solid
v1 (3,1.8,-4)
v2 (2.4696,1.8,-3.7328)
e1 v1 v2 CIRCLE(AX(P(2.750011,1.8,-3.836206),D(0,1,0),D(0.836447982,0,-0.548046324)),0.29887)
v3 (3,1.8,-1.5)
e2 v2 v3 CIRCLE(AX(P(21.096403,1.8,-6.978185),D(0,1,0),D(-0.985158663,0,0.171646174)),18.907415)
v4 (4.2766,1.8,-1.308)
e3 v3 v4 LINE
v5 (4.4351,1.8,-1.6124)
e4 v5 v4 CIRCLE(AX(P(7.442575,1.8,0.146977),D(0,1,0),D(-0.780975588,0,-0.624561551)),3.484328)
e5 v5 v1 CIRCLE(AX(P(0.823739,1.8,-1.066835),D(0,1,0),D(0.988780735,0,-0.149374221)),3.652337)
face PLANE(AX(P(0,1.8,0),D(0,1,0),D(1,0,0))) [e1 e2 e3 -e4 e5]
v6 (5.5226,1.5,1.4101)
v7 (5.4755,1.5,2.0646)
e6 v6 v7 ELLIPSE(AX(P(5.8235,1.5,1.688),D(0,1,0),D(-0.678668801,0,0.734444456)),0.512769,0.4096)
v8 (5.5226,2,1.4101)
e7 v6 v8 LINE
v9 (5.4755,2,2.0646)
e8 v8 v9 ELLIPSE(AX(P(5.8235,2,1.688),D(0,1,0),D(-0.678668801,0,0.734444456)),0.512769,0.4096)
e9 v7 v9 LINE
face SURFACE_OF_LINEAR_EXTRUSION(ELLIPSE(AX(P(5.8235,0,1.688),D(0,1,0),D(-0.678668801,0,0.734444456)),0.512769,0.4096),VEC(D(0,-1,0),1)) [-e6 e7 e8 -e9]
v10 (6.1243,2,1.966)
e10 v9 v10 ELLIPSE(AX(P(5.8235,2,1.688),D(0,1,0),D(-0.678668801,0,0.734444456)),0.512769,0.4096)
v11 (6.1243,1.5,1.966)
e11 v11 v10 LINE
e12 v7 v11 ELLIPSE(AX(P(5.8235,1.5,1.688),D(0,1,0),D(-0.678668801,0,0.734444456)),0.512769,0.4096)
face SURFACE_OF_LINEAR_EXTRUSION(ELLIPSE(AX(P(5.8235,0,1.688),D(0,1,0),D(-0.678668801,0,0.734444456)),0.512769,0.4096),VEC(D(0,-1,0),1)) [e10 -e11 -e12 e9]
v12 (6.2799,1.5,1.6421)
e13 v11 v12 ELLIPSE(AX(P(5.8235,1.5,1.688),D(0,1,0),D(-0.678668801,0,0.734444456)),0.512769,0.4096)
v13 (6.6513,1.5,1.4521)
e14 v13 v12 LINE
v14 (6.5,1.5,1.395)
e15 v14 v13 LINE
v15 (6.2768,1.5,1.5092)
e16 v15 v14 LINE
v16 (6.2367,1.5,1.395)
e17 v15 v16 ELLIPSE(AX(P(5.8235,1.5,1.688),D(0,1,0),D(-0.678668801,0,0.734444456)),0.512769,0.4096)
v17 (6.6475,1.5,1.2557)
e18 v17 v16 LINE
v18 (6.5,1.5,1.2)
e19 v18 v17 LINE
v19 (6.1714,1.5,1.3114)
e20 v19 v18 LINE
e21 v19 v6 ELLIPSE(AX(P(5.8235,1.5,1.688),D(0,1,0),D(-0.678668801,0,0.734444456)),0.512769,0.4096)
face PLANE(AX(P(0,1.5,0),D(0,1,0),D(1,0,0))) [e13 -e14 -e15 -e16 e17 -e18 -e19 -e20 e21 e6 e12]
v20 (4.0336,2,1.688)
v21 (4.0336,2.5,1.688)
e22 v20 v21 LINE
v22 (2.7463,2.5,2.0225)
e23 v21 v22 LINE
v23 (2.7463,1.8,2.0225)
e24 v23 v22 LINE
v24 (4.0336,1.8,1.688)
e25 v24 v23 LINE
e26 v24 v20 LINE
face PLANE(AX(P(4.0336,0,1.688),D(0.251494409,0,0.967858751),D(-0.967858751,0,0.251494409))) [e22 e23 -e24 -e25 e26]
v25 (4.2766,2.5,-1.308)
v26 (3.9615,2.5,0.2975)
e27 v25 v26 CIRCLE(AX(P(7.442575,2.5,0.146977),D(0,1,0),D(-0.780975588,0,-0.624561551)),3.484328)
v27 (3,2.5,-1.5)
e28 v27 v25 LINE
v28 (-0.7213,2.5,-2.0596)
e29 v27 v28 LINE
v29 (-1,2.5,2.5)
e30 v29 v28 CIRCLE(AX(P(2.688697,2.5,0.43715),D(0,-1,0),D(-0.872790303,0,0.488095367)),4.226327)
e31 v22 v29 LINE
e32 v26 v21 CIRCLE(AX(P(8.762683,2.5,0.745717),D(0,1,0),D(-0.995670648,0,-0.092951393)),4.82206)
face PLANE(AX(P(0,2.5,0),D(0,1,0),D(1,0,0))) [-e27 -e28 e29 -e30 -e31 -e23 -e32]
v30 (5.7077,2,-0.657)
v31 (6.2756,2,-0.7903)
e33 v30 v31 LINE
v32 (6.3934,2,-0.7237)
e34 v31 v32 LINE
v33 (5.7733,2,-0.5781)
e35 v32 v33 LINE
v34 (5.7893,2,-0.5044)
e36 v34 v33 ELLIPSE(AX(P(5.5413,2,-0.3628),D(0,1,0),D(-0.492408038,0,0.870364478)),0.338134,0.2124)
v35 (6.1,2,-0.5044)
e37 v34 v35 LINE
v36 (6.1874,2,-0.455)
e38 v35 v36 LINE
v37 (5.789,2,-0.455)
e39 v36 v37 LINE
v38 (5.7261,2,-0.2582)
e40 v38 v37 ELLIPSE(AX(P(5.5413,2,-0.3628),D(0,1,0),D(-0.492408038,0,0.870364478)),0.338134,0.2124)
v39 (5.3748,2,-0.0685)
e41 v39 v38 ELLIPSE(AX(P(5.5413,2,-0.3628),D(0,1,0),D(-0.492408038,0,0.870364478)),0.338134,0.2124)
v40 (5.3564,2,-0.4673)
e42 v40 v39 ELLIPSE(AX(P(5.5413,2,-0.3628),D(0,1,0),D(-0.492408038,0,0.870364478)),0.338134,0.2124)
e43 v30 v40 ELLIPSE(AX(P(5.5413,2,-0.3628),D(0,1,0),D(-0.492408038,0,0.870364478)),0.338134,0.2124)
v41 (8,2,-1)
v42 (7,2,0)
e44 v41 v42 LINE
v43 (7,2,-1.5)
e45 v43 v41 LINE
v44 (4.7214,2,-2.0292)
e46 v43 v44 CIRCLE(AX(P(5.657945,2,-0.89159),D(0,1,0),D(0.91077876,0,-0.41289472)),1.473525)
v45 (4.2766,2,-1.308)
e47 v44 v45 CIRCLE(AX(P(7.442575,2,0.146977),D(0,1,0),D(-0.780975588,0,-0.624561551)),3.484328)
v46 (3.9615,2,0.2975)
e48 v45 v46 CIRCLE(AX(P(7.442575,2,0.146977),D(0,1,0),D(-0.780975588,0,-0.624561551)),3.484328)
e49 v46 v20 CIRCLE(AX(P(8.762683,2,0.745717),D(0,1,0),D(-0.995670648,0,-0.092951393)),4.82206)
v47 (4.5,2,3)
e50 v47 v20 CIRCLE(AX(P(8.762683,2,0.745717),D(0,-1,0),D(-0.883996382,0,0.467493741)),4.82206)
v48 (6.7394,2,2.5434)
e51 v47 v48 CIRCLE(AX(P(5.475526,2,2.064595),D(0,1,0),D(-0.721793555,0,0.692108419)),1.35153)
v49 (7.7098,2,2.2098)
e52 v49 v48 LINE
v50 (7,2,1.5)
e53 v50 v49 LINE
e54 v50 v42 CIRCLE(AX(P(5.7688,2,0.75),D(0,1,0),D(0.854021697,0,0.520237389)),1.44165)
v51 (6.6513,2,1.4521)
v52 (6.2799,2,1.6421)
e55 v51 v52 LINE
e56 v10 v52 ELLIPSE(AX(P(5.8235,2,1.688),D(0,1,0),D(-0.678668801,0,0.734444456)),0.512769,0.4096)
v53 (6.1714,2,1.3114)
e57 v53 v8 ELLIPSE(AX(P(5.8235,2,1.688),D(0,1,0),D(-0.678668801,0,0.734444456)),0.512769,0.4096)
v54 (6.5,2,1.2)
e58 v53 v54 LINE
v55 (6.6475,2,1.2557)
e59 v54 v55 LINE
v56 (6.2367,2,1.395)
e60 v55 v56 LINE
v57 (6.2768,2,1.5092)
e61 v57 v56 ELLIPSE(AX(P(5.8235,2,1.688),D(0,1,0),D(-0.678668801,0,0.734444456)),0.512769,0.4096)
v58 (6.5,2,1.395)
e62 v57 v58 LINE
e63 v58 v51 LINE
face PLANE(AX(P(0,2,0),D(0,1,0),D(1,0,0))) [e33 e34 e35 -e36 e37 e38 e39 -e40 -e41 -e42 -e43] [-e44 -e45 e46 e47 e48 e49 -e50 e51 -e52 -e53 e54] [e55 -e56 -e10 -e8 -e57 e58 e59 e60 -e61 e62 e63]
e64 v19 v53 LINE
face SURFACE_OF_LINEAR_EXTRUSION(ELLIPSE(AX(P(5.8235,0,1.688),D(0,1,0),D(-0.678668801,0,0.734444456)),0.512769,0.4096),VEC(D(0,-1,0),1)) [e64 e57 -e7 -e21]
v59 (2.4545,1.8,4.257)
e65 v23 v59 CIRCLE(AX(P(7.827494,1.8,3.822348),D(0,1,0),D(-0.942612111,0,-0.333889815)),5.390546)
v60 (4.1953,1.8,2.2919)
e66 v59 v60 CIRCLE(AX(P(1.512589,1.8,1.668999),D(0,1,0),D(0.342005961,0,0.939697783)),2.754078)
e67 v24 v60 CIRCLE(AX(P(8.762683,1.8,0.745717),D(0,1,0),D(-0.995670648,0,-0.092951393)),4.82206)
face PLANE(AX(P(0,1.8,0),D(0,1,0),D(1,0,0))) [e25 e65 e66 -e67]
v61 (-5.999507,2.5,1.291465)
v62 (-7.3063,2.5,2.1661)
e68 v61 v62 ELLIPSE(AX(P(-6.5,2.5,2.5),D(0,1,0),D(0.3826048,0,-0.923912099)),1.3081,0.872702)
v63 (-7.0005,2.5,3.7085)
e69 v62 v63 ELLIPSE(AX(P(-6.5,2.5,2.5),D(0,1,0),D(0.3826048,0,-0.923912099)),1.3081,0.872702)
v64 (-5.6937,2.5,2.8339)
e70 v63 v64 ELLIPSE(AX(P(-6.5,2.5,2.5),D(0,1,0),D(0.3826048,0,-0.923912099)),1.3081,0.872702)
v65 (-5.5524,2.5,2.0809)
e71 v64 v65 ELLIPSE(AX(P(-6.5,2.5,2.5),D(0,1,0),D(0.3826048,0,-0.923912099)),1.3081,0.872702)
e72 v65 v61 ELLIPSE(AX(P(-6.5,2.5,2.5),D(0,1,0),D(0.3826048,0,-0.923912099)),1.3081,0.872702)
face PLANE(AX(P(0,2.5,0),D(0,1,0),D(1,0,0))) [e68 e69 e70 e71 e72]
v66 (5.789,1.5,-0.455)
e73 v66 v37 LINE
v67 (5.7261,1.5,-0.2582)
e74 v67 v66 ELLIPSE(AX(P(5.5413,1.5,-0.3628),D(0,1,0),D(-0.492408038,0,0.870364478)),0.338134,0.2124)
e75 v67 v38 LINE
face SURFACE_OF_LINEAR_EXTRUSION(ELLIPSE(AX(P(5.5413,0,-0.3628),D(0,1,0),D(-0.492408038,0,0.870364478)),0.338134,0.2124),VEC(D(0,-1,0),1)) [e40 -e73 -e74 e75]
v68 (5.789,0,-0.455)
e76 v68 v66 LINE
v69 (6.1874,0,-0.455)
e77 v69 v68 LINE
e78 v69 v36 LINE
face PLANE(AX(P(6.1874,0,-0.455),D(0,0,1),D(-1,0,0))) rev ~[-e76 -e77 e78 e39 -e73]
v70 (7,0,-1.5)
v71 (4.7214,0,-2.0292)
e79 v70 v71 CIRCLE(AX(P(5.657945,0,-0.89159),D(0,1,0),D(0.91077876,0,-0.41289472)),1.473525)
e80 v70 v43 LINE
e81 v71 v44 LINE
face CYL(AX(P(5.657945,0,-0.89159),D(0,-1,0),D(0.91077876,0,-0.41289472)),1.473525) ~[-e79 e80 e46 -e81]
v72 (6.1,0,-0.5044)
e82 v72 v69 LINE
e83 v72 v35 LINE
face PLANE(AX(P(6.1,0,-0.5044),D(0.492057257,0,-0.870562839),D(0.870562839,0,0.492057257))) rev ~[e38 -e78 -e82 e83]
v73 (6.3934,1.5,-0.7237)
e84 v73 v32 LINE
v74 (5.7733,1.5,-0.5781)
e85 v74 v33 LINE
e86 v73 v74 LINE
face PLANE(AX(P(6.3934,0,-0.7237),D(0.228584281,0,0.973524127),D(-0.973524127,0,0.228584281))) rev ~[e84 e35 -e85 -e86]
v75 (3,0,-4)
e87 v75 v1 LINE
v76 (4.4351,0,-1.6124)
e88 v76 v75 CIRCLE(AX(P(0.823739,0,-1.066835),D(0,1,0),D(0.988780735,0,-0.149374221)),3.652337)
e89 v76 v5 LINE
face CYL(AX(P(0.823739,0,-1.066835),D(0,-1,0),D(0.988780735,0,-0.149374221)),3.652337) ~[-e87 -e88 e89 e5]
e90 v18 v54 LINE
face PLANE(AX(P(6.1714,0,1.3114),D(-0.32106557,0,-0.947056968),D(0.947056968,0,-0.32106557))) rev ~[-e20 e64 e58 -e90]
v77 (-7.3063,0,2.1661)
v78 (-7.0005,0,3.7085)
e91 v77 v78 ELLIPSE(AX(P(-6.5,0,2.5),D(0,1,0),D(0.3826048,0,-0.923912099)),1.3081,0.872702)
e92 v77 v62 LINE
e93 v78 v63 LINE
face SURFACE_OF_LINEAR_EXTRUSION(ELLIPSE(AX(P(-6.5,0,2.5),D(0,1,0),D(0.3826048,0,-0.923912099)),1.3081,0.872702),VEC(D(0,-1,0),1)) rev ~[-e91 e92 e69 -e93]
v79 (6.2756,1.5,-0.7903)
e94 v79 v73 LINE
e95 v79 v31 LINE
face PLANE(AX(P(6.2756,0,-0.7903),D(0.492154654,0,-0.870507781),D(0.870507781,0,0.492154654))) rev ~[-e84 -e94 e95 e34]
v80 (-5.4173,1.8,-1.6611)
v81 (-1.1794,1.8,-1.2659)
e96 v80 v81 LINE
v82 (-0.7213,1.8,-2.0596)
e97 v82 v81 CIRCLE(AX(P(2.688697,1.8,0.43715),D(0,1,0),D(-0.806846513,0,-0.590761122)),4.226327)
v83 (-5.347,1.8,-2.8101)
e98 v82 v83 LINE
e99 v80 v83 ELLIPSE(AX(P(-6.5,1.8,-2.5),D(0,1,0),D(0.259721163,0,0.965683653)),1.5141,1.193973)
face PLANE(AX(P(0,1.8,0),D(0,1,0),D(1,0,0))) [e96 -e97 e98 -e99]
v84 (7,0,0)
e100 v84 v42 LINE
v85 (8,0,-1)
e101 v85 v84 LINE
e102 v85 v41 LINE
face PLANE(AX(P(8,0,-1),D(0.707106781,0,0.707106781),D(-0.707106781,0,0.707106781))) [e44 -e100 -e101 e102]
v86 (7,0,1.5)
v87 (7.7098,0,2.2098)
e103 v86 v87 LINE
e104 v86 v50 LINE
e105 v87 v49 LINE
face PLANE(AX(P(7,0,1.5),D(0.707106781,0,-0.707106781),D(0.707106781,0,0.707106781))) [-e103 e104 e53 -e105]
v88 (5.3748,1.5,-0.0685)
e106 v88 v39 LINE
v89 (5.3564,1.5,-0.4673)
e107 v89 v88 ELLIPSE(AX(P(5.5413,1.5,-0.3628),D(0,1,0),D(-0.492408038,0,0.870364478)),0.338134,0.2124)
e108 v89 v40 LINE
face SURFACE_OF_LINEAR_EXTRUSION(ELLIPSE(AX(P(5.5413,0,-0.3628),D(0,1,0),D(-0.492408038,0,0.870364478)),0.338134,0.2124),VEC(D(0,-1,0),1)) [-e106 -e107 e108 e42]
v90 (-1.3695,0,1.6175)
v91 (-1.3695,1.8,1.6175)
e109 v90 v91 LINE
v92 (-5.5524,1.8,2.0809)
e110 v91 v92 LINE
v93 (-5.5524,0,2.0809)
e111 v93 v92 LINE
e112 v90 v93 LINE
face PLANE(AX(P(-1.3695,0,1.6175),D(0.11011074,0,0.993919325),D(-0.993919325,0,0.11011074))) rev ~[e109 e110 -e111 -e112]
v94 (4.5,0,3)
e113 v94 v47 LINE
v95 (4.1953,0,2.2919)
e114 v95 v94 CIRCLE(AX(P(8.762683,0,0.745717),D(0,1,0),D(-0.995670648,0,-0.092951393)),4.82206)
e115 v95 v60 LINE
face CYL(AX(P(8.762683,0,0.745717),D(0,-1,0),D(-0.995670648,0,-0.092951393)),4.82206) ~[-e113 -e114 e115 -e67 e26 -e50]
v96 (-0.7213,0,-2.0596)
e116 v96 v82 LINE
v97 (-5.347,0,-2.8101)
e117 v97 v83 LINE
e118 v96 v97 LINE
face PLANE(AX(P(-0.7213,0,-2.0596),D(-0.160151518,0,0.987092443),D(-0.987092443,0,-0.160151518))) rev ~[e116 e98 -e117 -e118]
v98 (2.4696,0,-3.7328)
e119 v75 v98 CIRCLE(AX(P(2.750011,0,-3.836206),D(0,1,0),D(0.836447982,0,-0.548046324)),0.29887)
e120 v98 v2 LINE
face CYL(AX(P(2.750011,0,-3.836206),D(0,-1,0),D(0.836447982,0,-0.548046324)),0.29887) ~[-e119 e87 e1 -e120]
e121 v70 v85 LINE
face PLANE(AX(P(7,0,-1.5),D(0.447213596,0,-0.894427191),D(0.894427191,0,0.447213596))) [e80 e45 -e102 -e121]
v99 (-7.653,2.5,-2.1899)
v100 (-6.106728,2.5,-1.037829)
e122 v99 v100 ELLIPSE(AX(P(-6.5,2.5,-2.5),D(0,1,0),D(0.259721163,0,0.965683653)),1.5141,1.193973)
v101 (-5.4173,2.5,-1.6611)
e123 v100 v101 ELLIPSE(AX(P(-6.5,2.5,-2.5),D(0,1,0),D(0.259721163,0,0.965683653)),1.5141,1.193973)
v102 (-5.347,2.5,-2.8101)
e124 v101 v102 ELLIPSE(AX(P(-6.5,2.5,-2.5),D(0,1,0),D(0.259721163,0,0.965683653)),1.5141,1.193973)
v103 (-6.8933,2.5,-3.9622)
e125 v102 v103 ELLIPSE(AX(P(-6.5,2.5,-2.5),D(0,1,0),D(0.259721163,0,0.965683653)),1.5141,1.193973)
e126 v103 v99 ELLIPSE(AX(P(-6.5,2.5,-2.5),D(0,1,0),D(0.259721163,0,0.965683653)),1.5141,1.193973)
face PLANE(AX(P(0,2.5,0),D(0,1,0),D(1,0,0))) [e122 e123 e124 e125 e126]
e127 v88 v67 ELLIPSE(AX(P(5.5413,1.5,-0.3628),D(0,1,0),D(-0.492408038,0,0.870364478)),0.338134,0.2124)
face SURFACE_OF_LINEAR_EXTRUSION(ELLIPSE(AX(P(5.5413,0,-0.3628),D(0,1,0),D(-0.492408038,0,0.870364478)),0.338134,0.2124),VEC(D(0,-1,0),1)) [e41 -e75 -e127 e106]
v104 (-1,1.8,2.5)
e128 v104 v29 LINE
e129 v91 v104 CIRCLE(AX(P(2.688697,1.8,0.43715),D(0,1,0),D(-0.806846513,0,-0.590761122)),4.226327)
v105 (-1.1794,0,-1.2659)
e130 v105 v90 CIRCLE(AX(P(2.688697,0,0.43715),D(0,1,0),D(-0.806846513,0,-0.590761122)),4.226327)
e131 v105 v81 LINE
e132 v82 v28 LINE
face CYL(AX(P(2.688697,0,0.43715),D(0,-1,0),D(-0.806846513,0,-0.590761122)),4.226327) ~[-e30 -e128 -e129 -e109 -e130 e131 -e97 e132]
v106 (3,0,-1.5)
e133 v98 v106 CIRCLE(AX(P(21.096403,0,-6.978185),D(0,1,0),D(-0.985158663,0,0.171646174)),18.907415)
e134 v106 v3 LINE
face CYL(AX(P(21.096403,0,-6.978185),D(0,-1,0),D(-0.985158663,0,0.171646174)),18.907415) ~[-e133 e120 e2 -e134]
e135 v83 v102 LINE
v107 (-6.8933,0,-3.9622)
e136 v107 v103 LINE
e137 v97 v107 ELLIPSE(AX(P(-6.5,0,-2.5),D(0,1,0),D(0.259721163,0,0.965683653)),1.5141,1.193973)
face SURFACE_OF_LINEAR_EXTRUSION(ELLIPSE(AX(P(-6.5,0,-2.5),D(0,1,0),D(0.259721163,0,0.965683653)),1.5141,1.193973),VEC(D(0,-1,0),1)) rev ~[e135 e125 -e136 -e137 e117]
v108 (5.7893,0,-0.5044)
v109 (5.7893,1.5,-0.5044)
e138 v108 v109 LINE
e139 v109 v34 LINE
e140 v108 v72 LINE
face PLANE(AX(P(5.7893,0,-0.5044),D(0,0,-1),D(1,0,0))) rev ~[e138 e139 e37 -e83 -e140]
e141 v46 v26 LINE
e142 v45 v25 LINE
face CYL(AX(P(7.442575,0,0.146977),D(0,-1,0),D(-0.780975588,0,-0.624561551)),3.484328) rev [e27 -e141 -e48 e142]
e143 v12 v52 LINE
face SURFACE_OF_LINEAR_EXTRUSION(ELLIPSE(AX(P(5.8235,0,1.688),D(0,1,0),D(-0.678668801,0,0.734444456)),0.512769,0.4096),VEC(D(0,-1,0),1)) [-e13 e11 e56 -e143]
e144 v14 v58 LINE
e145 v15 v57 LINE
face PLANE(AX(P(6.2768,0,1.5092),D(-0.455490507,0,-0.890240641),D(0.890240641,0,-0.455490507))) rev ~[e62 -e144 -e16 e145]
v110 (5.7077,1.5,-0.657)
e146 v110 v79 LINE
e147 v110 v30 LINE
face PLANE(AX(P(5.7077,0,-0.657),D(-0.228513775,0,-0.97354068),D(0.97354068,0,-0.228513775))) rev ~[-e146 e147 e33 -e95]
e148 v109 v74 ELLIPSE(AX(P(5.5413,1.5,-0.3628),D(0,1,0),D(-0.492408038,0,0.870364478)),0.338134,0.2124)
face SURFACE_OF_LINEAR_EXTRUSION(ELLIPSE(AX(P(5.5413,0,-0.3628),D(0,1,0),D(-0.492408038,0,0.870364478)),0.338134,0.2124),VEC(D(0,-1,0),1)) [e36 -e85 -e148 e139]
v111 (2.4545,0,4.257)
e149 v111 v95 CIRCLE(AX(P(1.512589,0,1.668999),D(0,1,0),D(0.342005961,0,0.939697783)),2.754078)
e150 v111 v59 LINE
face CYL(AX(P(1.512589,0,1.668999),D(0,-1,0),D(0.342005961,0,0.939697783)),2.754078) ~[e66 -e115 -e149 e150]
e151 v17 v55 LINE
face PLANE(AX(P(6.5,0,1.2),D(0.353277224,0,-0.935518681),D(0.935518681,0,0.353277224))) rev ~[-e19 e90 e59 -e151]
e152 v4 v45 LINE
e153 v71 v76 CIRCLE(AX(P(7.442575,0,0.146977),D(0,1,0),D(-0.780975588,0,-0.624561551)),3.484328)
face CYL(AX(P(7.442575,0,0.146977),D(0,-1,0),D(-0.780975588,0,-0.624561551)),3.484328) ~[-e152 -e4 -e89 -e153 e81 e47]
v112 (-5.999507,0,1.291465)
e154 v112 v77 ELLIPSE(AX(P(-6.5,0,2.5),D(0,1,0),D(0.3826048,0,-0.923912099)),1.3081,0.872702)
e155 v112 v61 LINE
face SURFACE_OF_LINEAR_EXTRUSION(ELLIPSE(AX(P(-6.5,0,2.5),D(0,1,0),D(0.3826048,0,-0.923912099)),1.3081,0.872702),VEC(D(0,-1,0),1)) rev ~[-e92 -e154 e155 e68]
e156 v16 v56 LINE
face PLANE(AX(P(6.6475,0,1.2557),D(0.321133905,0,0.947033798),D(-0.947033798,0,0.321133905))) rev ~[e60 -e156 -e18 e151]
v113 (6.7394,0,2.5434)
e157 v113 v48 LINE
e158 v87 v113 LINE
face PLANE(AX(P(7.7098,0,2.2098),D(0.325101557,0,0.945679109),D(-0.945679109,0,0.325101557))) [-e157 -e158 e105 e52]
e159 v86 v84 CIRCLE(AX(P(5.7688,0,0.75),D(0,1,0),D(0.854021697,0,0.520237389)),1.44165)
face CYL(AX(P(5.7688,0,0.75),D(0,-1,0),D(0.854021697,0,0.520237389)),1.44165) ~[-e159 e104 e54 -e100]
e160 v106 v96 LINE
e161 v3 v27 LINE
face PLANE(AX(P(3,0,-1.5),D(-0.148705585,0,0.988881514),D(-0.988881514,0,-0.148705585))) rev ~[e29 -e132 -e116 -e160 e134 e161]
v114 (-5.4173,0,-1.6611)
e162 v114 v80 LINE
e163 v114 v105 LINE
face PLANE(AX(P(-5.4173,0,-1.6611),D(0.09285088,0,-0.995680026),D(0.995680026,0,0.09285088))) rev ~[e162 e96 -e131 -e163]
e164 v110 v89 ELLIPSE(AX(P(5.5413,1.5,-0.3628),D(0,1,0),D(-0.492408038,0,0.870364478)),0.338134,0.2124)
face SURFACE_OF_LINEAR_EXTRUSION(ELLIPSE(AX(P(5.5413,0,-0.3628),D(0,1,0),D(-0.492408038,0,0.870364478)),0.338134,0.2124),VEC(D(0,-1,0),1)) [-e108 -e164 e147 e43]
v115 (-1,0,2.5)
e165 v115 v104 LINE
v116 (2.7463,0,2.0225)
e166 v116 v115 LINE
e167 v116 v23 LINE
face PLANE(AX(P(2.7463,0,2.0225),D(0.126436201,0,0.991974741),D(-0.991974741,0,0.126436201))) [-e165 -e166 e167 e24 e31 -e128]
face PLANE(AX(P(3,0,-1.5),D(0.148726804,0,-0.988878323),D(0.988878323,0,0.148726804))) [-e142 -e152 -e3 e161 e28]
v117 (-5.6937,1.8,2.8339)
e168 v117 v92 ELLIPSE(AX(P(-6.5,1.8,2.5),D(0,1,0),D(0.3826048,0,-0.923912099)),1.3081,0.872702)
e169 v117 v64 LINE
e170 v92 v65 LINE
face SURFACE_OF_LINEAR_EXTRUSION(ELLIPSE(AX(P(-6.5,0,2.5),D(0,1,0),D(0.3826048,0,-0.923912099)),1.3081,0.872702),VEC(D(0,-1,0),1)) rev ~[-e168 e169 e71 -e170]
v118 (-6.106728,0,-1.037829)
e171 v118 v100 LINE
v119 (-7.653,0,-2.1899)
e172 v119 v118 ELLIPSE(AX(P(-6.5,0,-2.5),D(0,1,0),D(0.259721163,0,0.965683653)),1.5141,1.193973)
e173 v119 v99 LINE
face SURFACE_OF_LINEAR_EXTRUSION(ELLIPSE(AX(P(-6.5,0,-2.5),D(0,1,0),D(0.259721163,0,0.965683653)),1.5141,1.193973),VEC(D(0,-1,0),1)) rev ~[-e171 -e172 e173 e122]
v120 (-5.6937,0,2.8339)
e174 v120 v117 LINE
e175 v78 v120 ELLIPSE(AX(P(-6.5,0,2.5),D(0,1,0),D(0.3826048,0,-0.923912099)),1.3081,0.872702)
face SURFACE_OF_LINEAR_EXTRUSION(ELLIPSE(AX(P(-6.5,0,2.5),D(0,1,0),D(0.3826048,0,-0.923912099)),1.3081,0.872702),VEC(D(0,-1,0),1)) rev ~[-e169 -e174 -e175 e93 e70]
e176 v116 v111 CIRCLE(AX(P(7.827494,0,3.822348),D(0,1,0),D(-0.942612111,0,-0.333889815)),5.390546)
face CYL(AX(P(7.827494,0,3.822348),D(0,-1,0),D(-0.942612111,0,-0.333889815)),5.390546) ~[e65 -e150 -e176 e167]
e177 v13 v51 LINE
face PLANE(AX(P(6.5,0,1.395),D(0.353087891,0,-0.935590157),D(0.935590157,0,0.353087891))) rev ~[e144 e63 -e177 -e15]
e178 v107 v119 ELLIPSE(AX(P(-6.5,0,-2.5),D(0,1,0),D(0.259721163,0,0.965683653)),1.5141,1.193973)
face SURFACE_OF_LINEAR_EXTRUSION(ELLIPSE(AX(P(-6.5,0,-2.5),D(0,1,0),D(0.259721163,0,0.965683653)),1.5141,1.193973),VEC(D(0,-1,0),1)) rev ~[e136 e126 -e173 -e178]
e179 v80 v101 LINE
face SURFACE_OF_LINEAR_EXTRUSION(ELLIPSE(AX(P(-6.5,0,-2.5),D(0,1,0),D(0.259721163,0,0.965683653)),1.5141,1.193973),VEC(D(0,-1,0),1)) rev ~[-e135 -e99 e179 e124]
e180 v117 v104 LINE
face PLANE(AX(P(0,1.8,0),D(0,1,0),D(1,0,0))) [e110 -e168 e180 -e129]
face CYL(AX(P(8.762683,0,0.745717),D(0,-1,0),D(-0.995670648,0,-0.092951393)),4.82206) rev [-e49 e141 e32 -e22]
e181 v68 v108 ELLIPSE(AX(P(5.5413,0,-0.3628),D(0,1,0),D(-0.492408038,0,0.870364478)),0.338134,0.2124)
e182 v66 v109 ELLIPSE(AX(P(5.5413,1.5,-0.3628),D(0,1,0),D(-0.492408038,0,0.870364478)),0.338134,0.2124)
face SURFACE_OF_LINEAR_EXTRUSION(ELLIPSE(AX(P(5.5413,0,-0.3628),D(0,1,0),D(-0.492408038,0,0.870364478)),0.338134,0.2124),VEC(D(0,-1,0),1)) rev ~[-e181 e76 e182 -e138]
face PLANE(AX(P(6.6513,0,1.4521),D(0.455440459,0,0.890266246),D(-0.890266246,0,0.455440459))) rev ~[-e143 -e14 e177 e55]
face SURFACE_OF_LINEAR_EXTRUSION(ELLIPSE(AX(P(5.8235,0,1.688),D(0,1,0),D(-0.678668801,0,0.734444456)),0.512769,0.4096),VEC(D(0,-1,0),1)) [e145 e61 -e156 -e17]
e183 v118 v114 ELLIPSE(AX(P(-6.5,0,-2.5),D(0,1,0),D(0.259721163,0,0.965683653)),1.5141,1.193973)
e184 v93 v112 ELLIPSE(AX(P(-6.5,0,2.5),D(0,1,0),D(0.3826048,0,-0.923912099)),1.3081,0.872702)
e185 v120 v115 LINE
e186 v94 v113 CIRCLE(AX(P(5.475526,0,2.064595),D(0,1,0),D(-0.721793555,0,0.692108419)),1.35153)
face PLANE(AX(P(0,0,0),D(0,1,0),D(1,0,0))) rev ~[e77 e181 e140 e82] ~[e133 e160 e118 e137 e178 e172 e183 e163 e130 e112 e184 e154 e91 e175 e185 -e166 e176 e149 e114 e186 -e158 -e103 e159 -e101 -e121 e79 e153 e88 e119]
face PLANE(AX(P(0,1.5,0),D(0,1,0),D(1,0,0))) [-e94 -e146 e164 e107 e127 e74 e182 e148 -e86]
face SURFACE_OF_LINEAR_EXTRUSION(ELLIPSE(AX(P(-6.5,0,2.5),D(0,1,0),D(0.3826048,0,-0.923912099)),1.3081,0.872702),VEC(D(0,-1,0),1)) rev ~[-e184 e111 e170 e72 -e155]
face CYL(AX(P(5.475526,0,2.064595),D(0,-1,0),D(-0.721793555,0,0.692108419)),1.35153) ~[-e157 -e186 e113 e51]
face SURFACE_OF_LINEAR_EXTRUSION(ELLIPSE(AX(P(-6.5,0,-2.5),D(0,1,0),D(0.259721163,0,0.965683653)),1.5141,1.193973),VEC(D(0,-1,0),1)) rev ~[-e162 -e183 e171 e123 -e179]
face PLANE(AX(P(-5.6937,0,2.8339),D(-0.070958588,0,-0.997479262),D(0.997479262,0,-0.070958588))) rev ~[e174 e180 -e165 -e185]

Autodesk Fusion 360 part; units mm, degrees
sketch "スケッチ1" plane through (0, 0, 0) normal (0, 1, 0) x (1, 0, 0)
  line L0 (7, 1.5) -> (8, 1)
  line L1 (8, 1) -> (7, 0)
  line L2 (7, -1.5) -> (7.7098, -2.2098)
  line L3 (7.7098, -2.2098) -> (6.7394, -2.5434)
  arc A0 (7, -1.5) -> (7, 0) centre (5.7688, -0.75) ccw
  arc A1 (4.5, -3) -> (6.7394, -2.5434) centre (5.4755, -2.0646) ccw
  arc A2 (3.9615, -0.2975) -> (4.5, -3) centre (8.7627, -0.7458) ccw
  arc A3 (4.7214, 2.0292) -> (3.9615, -0.2975) centre (7.4426, -0.1469) ccw
  arc A4 (7, 1.5) -> (4.7214, 2.0292) centre (5.6579, 0.8916) ccw
  arc A5 (4.4351, 1.6124) -> (3, 4) centre (0.8237, 1.0669) ccw
  arc A6 (3, 4) -> (2.4696, 3.7328) centre (2.75, 3.8362) ccw
  arc A7 (2.4696, 3.7328) -> (3, 1.5) centre (21.0964, 6.9782) ccw
  line L4 (3, 1.5) -> (4.2766, 1.308)
  line L5 (3, 1.5) -> (-0.7213, 2.0596)
  arc A8 (2.7463, -2.0225) -> (2.4545, -4.257) centre (7.8275, -3.8223) ccw
  arc A9 (2.4545, -4.257) -> (4.1953, -2.2919) centre (1.5125, -1.6691) ccw
  line L6 (4.0336, -1.688) -> (2.7463, -2.0225)
  line L7 (2.7463, -2.0225) -> (-1, -2.5)
  arc A10 (-0.7213, 2.0596) -> (-1, -2.5) centre (2.6887, -0.4371) ccw
  ellipse E0 centre (-6.5, 2.5) end of major axis (-7.653, 2.1899) minor radius 1.5141
  line L8 (-5.347, 2.8101) -> (-7.653, 2.1899)
  line L9 (-6.8933, 3.9622) -> (-6.1067, 1.0378)
  ellipse E1 centre (-6.5, -2.5) end of major axis (-5.6937, -2.8339) minor radius 1.3081
  line L10 (-7.3063, -2.1661) -> (-5.6937, -2.8339)
  line L11 (-7.0005, -3.7085) -> (-5.9995, -1.2915)
  line L12 (-0.7213, 2.0596) -> (-5.347, 2.8101)
  line L13 (-5.4173, 1.6611) -> (-1.1794, 1.2659)
  line L14 (-1.3695, -1.6175) -> (-5.5524, -2.0809)
  line L15 (-5.6937, -2.8339) -> (-1, -2.5)
  ellipse E2 centre (5.5413, 0.3628) end of major axis (5.3748, 0.0685) minor radius 0.2124
  line L16 (5.7077, 0.657) -> (5.3748, 0.0685)
  line L17 (5.3564, 0.4673) -> (5.7261, 0.2582)
  ellipse E3 centre (5.8235, -1.688) end of major axis (5.4755, -2.0646) minor radius 0.4096
  line L18 (6.1714, -1.3114) -> (5.4755, -2.0646)
  line L19 (5.5226, -1.4101) -> (6.1243, -1.966)
  line L20 (5.7077, 0.657) -> (6.2756, 0.7903)
  line L21 (6.2756, 0.7903) -> (6.3934, 0.7237)
  line L22 (6.3934, 0.7237) -> (5.7733, 0.5781)
  line L23 (5.7893, 0.5044) -> (6.1, 0.5044)
  line L24 (6.1, 0.5044) -> (6.1874, 0.455)
  line L25 (6.1874, 0.455) -> (5.789, 0.455)
  line L26 (6.1714, -1.3114) -> (6.5, -1.2)
  line L27 (6.5, -1.2) -> (6.6475, -1.2557)
  line L28 (6.6475, -1.2557) -> (6.2367, -1.395)
  line L29 (6.2768, -1.5092) -> (6.5, -1.395)
  line L30 (6.5, -1.395) -> (6.6513, -1.4521)
  line L31 (6.6513, -1.4521) -> (6.2799, -1.6421)
extrude "押し出し15" add sketch "スケッチ1" along normal blind 2 contours L0 L1 L2 L3 A0 A1 A2 A3 A4
extrude "押し出し16" add sketch "スケッチ1" along normal blind 2.5 contours A2 A3 L4 L5 L6 L7 A10
extrude "押し出し17" add sketch "スケッチ1" along normal blind 1.8 contours A3 A5 A6 A7 L4
extrude "押し出し18" add sketch "スケッチ1" along normal blind 1.8 contours A2 A8 A9 L6
extrude "押し出し19" add sketch "スケッチ1" along normal blind 1.8 contours A10 E0 L12 L13
extrude "押し出し20" add sketch "スケッチ1" along normal blind 1.8 contours A10 E1 L14 L15
extrude "押し出し21" add sketch "スケッチ1" along normal blind 2.5 contours E0 L8 L9 | E0 L8 L9 | E0 L8 L9 | E0 L8 L9
extrude "押し出し22" add sketch "スケッチ1" along normal blind 2.5 contours E1 L10 L11 | E1 L10 L11 | E1 L10 L11 | E1 L10 L11
extrude "押し出し23" add sketch "スケッチ1" along normal blind 1.5 contours E2 L16 L17 | E2 L16 L17 | E2 L16 L17 | E2 L16 L17 | E2 L20 L21 L22 | E3 L18 L19 | E3 L18 L19 | E3 L18 L19 | E3 L18 L19 | E3 L29 L30 L31 | E3 L26 L27 L28
